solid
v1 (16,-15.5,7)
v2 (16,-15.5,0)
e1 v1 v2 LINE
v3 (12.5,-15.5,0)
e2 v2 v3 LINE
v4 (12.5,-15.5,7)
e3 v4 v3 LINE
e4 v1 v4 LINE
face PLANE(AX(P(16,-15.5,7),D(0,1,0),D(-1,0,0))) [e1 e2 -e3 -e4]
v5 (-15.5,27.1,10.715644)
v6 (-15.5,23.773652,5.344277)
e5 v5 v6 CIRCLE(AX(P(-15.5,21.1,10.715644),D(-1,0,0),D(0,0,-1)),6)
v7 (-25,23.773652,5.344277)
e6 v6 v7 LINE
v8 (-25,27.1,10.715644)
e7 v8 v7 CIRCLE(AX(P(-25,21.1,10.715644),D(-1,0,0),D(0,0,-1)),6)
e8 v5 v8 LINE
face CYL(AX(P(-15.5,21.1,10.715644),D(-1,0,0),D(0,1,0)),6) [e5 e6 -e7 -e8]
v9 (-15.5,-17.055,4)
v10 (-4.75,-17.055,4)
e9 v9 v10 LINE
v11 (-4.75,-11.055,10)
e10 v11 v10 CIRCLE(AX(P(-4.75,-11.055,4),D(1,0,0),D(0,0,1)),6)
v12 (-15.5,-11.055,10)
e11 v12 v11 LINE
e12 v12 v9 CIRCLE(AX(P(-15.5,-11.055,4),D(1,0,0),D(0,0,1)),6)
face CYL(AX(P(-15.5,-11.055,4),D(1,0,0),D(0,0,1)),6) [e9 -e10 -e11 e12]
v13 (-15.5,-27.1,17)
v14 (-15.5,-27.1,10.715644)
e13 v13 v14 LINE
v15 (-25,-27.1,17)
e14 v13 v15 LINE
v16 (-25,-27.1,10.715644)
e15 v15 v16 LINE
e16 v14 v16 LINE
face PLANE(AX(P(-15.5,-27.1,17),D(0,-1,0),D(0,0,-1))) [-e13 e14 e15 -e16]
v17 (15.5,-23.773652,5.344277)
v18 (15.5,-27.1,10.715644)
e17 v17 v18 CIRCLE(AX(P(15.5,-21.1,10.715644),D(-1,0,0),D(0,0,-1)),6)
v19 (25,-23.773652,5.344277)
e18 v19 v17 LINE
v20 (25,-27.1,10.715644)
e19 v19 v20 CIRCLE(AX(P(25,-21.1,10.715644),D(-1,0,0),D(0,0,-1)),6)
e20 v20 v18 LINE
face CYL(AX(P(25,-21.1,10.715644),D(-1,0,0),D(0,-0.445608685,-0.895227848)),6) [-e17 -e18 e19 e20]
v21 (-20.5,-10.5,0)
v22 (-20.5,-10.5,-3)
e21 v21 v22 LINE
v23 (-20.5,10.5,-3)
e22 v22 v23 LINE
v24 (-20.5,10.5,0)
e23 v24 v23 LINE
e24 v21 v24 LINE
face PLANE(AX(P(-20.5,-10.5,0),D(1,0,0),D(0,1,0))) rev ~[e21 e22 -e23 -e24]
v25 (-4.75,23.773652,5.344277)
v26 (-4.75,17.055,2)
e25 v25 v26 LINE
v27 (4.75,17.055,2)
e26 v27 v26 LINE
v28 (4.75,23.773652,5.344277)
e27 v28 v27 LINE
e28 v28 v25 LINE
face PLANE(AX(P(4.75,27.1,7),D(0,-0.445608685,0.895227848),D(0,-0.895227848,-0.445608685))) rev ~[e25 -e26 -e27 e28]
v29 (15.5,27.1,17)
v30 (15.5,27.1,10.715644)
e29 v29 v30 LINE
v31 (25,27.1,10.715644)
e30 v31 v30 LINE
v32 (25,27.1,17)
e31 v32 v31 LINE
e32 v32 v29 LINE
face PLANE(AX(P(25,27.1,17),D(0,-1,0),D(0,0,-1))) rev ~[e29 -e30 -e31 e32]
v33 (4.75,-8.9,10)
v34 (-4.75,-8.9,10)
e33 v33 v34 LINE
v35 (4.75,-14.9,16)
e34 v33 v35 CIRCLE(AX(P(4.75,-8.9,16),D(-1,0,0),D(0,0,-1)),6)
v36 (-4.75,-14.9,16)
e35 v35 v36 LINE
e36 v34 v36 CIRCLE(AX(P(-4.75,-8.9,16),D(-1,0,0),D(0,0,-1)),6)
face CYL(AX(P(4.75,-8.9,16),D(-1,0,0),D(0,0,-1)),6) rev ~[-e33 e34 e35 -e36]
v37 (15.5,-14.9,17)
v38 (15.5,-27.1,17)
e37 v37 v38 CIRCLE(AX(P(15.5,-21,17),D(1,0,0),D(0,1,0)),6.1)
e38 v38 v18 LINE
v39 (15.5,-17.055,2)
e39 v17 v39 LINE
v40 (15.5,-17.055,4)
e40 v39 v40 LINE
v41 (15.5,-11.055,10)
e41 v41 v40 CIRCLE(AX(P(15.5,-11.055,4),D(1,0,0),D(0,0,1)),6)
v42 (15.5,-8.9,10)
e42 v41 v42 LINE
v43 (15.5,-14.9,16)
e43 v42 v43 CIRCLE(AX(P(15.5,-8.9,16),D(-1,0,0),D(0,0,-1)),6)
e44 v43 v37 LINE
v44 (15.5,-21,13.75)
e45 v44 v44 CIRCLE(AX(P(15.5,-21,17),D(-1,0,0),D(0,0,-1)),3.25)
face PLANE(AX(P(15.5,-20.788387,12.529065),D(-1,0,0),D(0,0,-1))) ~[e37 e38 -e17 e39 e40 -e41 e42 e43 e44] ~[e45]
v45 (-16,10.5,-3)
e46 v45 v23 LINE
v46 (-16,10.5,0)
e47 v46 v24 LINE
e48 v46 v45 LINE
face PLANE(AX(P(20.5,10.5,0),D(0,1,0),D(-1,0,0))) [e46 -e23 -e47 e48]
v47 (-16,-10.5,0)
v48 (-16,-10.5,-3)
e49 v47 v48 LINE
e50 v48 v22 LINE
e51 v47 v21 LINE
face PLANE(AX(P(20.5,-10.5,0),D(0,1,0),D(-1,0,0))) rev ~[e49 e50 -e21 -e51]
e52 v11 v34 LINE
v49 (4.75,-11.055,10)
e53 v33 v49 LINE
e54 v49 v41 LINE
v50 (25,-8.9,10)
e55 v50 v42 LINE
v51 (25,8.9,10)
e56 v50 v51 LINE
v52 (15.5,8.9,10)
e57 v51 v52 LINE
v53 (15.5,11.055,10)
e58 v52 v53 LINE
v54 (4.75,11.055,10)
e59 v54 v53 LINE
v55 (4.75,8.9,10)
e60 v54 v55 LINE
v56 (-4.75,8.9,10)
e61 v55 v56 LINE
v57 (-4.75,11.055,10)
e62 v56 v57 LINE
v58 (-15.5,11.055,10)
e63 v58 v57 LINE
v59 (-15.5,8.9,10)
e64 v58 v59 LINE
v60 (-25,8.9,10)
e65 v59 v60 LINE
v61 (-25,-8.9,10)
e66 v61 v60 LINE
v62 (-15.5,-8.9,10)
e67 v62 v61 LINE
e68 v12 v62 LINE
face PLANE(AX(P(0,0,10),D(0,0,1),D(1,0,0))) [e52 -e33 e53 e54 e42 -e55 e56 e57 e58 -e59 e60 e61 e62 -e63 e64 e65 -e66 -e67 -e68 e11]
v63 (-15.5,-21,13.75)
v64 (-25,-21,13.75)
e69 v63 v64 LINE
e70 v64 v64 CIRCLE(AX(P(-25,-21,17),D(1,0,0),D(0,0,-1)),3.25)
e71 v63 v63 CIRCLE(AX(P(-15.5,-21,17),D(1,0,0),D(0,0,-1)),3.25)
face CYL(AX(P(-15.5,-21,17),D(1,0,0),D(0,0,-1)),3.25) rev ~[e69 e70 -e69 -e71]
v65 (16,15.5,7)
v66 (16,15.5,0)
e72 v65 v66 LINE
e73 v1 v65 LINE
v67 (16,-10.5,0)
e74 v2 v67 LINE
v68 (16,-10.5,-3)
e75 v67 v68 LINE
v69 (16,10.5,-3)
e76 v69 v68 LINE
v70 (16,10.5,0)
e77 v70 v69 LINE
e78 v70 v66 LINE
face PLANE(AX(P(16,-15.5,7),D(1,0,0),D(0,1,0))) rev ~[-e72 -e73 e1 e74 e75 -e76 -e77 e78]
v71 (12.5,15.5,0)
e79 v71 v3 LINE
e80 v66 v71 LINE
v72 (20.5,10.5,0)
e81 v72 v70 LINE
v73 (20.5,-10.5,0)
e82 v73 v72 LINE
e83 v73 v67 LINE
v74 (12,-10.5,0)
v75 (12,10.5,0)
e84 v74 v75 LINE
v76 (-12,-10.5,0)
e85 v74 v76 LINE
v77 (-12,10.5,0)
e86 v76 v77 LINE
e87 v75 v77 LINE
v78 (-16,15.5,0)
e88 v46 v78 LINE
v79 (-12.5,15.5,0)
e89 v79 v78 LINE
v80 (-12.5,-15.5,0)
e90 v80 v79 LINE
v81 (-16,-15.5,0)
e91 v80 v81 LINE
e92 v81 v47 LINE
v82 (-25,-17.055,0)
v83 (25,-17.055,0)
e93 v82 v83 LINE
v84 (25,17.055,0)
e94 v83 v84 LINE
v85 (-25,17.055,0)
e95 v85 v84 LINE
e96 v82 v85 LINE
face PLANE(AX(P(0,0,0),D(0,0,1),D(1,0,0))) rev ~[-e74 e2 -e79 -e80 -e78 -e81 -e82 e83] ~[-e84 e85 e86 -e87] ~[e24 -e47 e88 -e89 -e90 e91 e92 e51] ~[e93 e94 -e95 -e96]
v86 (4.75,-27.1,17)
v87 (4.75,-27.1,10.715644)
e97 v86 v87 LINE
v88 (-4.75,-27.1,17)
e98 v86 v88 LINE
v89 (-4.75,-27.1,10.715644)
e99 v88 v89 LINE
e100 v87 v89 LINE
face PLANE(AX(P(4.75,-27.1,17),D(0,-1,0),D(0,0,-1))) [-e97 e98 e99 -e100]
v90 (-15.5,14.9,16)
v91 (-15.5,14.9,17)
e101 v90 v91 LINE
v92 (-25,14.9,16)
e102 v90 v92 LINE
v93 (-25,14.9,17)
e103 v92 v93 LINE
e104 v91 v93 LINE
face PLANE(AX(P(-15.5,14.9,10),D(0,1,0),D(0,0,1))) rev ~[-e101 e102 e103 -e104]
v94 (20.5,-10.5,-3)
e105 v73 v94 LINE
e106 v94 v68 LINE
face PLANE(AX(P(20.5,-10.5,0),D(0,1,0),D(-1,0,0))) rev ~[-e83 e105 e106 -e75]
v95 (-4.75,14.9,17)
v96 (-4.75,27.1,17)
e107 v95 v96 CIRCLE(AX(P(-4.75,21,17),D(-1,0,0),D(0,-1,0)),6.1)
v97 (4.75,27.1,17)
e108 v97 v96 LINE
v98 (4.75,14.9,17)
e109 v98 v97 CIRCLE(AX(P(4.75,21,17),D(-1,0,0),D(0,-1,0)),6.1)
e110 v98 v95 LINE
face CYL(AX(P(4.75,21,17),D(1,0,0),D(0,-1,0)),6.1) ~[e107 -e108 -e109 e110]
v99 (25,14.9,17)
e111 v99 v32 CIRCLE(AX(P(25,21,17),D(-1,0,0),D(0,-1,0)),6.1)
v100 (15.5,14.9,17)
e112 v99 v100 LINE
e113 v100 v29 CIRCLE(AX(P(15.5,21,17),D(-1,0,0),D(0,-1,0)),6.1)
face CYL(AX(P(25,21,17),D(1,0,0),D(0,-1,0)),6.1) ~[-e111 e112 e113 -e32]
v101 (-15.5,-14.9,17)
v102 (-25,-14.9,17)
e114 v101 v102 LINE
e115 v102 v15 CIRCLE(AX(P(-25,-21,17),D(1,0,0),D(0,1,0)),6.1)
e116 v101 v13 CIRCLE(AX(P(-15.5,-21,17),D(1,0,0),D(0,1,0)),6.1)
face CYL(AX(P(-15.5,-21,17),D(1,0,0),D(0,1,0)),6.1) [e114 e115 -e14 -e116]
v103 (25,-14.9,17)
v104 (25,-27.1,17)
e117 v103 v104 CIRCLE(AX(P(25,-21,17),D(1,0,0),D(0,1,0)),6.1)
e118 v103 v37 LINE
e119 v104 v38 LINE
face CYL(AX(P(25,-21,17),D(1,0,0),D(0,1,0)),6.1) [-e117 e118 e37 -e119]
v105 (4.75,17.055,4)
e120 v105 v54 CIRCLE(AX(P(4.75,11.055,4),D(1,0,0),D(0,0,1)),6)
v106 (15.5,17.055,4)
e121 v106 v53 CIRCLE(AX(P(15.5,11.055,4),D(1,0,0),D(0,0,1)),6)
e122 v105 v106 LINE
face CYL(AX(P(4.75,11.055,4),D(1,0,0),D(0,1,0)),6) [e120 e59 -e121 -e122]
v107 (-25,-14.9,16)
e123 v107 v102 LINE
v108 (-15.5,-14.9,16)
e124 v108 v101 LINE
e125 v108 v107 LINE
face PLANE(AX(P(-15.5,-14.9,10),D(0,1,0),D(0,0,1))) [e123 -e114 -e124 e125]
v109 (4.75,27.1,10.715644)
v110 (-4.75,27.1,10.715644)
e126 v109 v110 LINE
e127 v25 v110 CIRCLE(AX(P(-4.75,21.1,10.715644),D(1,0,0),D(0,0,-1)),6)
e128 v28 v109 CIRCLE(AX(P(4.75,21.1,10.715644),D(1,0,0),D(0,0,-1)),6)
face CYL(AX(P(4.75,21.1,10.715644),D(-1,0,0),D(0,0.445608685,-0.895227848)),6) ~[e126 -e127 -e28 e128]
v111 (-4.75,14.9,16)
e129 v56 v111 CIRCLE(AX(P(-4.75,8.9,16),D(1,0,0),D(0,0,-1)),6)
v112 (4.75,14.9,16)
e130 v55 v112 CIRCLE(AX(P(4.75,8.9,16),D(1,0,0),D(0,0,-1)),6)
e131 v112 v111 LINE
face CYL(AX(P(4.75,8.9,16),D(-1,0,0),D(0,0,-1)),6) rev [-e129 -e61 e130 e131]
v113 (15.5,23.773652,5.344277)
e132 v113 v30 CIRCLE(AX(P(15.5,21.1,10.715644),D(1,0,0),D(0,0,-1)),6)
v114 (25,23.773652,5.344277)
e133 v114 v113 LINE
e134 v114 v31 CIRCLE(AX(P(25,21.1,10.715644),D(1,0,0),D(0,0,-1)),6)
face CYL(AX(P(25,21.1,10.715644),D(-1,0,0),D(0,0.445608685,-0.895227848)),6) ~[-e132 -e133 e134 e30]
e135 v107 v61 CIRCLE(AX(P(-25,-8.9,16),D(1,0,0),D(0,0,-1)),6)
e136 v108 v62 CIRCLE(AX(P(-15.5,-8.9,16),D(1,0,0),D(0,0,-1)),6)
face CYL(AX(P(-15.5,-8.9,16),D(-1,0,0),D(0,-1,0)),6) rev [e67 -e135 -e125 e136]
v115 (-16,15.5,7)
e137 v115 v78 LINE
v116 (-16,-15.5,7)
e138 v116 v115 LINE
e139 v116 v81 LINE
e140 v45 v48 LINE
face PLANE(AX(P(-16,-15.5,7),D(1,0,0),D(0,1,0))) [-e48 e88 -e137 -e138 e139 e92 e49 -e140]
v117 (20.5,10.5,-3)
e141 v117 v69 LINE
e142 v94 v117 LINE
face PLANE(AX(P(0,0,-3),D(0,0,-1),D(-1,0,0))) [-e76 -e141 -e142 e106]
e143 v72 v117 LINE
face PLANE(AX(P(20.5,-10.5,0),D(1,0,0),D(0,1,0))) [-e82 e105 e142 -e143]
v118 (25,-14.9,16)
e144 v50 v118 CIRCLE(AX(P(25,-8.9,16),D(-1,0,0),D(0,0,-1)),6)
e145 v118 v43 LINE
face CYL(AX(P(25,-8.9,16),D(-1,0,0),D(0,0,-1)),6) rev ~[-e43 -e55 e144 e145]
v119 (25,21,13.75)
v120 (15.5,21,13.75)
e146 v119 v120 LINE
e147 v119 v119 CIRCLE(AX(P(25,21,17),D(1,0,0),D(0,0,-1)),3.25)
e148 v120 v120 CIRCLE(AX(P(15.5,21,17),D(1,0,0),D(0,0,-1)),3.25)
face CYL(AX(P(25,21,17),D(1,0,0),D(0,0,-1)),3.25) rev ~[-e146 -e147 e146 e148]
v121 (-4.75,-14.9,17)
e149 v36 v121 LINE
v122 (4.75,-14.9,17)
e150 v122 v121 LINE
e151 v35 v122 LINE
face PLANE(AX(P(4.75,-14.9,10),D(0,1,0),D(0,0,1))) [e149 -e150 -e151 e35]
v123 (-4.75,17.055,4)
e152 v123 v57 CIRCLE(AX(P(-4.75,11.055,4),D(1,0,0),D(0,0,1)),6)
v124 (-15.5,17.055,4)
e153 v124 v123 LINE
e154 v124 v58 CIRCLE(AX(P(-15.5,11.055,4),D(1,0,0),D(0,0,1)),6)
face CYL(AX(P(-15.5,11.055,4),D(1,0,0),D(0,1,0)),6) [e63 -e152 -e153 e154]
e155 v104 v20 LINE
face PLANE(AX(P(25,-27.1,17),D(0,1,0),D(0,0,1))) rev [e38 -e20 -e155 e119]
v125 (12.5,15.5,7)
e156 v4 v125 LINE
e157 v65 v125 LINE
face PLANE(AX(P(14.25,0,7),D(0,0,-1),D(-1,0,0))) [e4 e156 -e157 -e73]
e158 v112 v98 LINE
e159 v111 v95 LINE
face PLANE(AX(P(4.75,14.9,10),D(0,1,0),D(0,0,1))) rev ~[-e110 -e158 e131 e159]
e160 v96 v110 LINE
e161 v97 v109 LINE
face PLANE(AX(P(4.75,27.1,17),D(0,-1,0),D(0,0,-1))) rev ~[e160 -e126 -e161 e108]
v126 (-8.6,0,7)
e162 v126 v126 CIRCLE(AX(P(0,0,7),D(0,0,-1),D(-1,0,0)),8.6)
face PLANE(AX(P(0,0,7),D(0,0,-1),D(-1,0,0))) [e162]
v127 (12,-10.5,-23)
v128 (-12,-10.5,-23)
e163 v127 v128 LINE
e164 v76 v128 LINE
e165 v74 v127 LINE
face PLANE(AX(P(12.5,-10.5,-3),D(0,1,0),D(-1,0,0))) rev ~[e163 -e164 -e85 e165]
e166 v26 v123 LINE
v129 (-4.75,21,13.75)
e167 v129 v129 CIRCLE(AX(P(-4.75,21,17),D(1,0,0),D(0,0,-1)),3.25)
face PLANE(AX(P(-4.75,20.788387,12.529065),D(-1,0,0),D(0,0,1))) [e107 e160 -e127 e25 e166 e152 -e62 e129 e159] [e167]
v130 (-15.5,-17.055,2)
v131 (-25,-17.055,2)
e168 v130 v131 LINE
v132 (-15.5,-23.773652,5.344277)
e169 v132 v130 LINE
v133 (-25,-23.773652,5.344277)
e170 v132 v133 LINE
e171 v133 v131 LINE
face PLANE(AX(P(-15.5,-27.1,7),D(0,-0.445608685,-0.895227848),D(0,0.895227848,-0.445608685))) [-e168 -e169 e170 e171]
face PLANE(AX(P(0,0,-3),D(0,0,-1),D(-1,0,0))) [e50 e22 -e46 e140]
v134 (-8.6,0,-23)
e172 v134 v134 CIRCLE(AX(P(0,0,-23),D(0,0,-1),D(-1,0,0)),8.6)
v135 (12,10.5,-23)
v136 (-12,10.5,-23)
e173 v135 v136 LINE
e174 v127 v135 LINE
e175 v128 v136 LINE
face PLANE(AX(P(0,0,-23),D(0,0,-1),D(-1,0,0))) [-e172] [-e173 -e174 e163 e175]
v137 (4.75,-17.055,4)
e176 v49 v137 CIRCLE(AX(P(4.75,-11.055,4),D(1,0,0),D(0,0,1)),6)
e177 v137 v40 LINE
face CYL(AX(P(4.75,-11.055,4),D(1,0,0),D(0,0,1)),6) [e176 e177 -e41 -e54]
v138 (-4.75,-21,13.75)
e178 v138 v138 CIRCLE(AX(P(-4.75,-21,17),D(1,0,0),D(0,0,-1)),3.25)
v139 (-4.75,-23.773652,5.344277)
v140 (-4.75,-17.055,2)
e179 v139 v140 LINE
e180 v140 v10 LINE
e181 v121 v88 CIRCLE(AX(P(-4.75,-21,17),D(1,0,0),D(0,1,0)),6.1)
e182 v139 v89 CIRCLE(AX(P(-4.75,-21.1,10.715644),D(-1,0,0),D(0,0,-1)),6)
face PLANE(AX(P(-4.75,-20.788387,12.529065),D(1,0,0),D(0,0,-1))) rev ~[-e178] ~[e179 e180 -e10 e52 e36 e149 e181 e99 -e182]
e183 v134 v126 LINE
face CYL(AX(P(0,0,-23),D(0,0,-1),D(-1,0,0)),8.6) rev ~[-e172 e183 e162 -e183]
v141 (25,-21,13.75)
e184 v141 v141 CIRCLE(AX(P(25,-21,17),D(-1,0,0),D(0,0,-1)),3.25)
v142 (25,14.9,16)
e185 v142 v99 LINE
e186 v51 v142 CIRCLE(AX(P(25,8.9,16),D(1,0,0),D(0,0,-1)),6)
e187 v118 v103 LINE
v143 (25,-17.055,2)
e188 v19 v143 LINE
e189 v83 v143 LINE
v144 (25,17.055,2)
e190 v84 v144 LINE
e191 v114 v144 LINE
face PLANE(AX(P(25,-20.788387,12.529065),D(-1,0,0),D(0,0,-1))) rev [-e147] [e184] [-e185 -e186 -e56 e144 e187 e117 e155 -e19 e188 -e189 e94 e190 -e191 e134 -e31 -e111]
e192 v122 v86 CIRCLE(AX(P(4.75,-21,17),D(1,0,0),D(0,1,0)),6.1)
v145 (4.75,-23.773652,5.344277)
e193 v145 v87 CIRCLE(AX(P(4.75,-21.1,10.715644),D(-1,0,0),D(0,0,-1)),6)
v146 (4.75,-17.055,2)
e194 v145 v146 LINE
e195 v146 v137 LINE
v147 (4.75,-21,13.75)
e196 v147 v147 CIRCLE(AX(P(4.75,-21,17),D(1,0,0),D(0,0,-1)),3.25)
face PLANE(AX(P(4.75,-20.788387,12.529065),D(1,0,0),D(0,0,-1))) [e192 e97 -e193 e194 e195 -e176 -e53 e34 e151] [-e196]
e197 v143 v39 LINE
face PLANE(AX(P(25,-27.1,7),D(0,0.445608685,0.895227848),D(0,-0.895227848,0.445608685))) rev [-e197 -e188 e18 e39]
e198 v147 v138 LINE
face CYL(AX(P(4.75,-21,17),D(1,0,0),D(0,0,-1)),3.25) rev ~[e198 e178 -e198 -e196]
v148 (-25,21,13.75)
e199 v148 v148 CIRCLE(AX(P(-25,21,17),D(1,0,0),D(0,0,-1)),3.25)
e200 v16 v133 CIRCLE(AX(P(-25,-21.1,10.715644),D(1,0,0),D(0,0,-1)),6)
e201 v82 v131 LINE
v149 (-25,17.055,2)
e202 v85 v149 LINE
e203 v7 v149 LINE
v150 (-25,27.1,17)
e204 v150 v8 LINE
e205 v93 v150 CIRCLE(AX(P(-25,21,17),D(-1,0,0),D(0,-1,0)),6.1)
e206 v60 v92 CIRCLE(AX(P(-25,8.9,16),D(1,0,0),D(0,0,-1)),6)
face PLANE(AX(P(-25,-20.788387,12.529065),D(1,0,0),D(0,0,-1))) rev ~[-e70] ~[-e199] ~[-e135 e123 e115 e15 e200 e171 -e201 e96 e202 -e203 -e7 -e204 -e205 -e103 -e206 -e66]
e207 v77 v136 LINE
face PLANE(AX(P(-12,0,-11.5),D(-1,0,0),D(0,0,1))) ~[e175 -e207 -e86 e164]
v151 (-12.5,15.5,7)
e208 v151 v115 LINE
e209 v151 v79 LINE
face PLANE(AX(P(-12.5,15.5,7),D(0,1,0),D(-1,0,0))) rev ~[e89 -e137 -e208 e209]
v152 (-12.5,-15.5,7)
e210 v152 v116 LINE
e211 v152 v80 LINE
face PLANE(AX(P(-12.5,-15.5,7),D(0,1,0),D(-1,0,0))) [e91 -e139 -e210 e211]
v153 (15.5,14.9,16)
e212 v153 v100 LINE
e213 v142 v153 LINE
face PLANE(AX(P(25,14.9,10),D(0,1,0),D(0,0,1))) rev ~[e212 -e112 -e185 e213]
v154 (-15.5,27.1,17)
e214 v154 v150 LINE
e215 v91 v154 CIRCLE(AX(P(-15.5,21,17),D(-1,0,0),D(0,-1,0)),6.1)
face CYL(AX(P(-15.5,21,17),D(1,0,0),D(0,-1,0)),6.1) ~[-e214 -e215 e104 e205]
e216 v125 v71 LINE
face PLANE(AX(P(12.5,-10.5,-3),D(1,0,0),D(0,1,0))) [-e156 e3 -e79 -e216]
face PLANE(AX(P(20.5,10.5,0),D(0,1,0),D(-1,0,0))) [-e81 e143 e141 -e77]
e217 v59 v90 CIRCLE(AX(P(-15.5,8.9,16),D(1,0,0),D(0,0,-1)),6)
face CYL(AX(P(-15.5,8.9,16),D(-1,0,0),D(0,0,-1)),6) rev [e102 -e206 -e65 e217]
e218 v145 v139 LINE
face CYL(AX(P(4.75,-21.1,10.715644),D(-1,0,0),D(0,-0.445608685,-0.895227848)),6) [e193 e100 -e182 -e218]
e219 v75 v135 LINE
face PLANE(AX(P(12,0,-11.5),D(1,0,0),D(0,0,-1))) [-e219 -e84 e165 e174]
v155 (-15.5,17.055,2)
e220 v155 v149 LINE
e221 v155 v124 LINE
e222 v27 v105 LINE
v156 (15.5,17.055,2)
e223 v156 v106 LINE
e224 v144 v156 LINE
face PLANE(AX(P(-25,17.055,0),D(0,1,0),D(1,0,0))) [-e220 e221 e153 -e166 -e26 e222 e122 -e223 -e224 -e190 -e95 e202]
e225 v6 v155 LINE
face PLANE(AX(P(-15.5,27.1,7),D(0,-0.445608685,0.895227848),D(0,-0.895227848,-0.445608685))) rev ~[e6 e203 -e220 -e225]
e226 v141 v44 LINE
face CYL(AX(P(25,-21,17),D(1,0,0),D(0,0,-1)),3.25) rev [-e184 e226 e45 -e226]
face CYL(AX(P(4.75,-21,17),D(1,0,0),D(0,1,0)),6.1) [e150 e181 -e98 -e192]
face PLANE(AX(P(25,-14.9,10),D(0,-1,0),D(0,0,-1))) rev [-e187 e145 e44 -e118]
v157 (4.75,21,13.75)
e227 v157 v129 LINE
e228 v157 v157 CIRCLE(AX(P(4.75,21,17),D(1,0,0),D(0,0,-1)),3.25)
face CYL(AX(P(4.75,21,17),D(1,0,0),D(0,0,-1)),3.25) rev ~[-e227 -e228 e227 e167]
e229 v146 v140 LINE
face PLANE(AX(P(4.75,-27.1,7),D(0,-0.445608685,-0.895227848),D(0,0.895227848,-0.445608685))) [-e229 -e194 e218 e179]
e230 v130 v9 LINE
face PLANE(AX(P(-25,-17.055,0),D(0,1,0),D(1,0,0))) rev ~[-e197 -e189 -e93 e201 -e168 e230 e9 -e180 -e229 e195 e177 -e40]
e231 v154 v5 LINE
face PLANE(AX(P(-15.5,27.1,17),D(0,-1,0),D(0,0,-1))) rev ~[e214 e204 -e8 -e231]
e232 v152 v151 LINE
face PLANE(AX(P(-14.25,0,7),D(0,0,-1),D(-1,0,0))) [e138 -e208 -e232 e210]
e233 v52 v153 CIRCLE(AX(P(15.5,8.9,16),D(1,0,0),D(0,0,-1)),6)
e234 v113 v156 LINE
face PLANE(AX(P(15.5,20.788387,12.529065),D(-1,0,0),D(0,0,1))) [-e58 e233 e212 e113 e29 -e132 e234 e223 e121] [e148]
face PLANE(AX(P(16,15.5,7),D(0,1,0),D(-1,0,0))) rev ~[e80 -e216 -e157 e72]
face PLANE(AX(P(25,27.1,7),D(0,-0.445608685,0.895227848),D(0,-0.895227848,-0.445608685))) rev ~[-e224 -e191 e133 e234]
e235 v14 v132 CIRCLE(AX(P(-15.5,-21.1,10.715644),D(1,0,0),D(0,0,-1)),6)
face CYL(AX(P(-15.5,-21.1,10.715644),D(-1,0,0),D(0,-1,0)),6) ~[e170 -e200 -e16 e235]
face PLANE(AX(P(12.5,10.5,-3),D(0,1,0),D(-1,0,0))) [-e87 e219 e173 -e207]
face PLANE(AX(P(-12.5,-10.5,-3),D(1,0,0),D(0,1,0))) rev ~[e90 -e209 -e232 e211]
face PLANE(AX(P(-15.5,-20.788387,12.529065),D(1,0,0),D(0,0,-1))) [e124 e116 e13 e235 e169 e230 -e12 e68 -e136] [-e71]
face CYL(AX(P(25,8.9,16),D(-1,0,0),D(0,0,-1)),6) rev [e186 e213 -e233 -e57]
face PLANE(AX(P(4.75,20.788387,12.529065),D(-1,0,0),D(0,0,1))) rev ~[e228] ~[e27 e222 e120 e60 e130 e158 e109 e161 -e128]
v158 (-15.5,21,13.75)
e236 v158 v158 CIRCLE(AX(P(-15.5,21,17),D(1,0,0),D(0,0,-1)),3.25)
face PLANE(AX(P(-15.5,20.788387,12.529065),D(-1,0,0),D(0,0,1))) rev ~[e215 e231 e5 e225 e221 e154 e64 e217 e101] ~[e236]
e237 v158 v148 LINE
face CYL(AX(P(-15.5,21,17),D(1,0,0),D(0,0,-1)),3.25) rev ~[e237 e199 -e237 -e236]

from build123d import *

# Parameters (mm, degrees)
SKETCH1_W               = 50
SKETCH1_H               = 34.11
BOSS_EXTRUDE1_DEPTH     = 10
SKETCH3_W               = 41
SKETCH3_H               = 21
BOSS_EXTRUDE2_DEPTH     = 3
CUT_EXTRUDE1_DEPTH      = 32.872763059
CUT_EXTRUDE1_DEPTH_BACK = 7
SKETCH2_W               = 3.5
SKETCH2_H               = 31
SKETCH4_W               = 25
SKETCH4_H               = 21
BOSS_EXTRUDE3_DEPTH     = 20
SKETCH5_R               = 8.6
CUT_EXTRUDE2_DEPTH      = 30
SKETCH6_R               = 3.25
BOSS_EXTRUDE4_DEPTH     = 9.5
LPATTERN1_COUNT         = 3
LPATTERN1_PITCH         = 20.25
MIRROR1_COPY_1_SKETCH_R = 3.25
MIRROR1_COPY_1_DEPTH    = 9.5
MIRROR1_COPY_2_SKETCH_R = 3.25
MIRROR1_COPY_2_DEPTH    = 9.5
FILLET1_R               = 6
SKETCH7_W               = 23
SKETCH7_H               = 21
CUT_EXTRUDE3_DEPTH      = 0.5
FILLET2_R               = 6


with BuildPart() as part:
    # Sketch1 → Boss-Extrude1 (new body)
    with BuildSketch(Plane.XY):
        Rectangle(SKETCH1_W, SKETCH1_H)
    extrude(amount=BOSS_EXTRUDE1_DEPTH)

    # Sketch3 → Boss-Extrude2 (add)
    with BuildSketch(Plane(origin=(0, 0, 0), x_dir=(-1, 0, 0), z_dir=(0, 0, -1))):
        Rectangle(SKETCH3_W, SKETCH3_H)
    extrude(amount=BOSS_EXTRUDE2_DEPTH)

    # Sketch2 → Cut-Extrude1 (cut, two sides: drawn at the far end of the back side and taken through both)
    with BuildSketch(Plane(origin=(0, 0, 0), x_dir=(-1, 0, 0), z_dir=(0, 0, -1)).offset(-CUT_EXTRUDE1_DEPTH_BACK)):
        with Locations((-14.25, 0)):
            Rectangle(SKETCH2_W, SKETCH2_H)
        with Locations((14.25, 0)):
            Rectangle(SKETCH2_W, SKETCH2_H)
    extrude(amount=CUT_EXTRUDE1_DEPTH + CUT_EXTRUDE1_DEPTH_BACK, mode=Mode.SUBTRACT)

    # Sketch4 → Boss-Extrude3 (add)
    with BuildSketch(Plane(origin=(0, 0, -3), x_dir=(-1, 0, 0), z_dir=(0, 0, -1))):
        Rectangle(SKETCH4_W, SKETCH4_H)
    extrude(amount=BOSS_EXTRUDE3_DEPTH)

    # Sketch5 → Cut-Extrude2 (cut)
    with BuildSketch(Plane(origin=(0, 0, -23), x_dir=(-1, 0, 0), z_dir=(0, 0, -1))):
        Circle(SKETCH5_R)
    extrude(amount=-CUT_EXTRUDE2_DEPTH, mode=Mode.SUBTRACT)

    # Sketch6 → Boss-Extrude4 (add)
    with BuildSketch(Plane(origin=(25, 0, 0), x_dir=(0, 0, -1), z_dir=(1, 0, 0))):
        with BuildLine():
            Line((-17, 27.1), (-7, 27.1))
            Line((-7, 27.1), (-2, 17.055))
            Line((-2, 17.055), (-10, 17.055))
            Line((-10, 17.055), (-10, 14.9))
            Line((-10, 14.9), (-17, 14.9))
            ThreePointArc((-17, 14.9), (-23.1, 21), (-17, 27.1))
        make_face()
        with Locations((-17, 21)):
            Circle(SKETCH6_R, mode=Mode.SUBTRACT)
    boss_extrude4 = extrude(amount=-BOSS_EXTRUDE4_DEPTH)

    # LPattern1: Boss-Extrude4 ×3
    with Locations(*[(-i * LPATTERN1_PITCH, 0, 0) for i in range(1, LPATTERN1_COUNT)]):
        add(boss_extrude4)

    # Mirror1: Boss-Extrude4 across plane
    add(boss_extrude4.mirror(Plane.ZX))

    # Mirror1 copy 1 sketch → Mirror1 copy 1 (add)
    with BuildSketch(Plane(origin=(4.75, 0, 0), x_dir=(0, 0, -1), z_dir=(1, 0, 0))):
        with BuildLine():
            Line((-17, -27.1), (-7, -27.1))
            Line((-7, -27.1), (-2, -17.055))
            Line((-2, -17.055), (-10, -17.055))
            Line((-10, -17.055), (-10, -14.9))
            Line((-10, -14.9), (-17, -14.9))
            ThreePointArc((-17, -14.9), (-23.1, -21), (-17, -27.1))
        make_face()
        with Locations((-17, -21)):
            Circle(MIRROR1_COPY_1_SKETCH_R, mode=Mode.SUBTRACT)
    extrude(amount=-MIRROR1_COPY_1_DEPTH)

    # Mirror1 copy 2 sketch → Mirror1 copy 2 (add)
    with BuildSketch(Plane(origin=(-15.5, 0, 0), x_dir=(0, 0, -1), z_dir=(1, 0, 0))):
        with BuildLine():
            Line((-17, -27.1), (-7, -27.1))
            Line((-7, -27.1), (-2, -17.055))
            Line((-2, -17.055), (-10, -17.055))
            Line((-10, -17.055), (-10, -14.9))
            Line((-10, -14.9), (-17, -14.9))
            ThreePointArc((-17, -14.9), (-23.1, -21), (-17, -27.1))
        make_face()
        with Locations((-17, -21)):
            Circle(MIRROR1_COPY_2_SKETCH_R, mode=Mode.SUBTRACT)
    extrude(amount=-MIRROR1_COPY_2_DEPTH)

    # Fillet1
    fillet1_edges = [part.edges().sort_by_distance(p)[0] for p in [
        (20.25, 27.1, 7),
        (20.25, 14.9, 10),
        (0, 27.1, 7),
        (0, 14.9, 10),
        (-20.25, 27.1, 7),
        (-20.25, 14.9, 10),
        (20.25, -14.9, 10),
        (20.25, -27.1, 7),
        (0, -14.9, 10),
        (0, -27.1, 7),
        (-20.25, -14.9, 10),
        (-20.25, -27.1, 7),
    ]]
    fillet(fillet1_edges, radius=FILLET1_R)

    # Sketch7 → Cut-Extrude3 (cut)
    with BuildSketch(Plane(origin=(12.5, 0, 0), x_dir=(0, 0, -1), z_dir=(1, 0, 0))):
        with Locations((11.5, 0)):
            Rectangle(SKETCH7_W, SKETCH7_H)
    cut_extrude3 = extrude(amount=-CUT_EXTRUDE3_DEPTH, mode=Mode.SUBTRACT)

    # Mirror2: Cut-Extrude3 across plane
    add(cut_extrude3.mirror(Plane(origin=(0, 0, 0), x_dir=(0, 0, 1), z_dir=(1, 0, 0))), mode=Mode.SUBTRACT)

    # Fillet2
    fillet2_edges = [part.edges().sort_by_distance(p)[0] for p in [
        (10.125, 17.055, 10),
        (-10.125, 17.055, 10),
        (10.125, -17.055, 10),
        (-10.125, -17.055, 10),
    ]]
    fillet(fillet2_edges, radius=FILLET2_R)


solid = part.part
